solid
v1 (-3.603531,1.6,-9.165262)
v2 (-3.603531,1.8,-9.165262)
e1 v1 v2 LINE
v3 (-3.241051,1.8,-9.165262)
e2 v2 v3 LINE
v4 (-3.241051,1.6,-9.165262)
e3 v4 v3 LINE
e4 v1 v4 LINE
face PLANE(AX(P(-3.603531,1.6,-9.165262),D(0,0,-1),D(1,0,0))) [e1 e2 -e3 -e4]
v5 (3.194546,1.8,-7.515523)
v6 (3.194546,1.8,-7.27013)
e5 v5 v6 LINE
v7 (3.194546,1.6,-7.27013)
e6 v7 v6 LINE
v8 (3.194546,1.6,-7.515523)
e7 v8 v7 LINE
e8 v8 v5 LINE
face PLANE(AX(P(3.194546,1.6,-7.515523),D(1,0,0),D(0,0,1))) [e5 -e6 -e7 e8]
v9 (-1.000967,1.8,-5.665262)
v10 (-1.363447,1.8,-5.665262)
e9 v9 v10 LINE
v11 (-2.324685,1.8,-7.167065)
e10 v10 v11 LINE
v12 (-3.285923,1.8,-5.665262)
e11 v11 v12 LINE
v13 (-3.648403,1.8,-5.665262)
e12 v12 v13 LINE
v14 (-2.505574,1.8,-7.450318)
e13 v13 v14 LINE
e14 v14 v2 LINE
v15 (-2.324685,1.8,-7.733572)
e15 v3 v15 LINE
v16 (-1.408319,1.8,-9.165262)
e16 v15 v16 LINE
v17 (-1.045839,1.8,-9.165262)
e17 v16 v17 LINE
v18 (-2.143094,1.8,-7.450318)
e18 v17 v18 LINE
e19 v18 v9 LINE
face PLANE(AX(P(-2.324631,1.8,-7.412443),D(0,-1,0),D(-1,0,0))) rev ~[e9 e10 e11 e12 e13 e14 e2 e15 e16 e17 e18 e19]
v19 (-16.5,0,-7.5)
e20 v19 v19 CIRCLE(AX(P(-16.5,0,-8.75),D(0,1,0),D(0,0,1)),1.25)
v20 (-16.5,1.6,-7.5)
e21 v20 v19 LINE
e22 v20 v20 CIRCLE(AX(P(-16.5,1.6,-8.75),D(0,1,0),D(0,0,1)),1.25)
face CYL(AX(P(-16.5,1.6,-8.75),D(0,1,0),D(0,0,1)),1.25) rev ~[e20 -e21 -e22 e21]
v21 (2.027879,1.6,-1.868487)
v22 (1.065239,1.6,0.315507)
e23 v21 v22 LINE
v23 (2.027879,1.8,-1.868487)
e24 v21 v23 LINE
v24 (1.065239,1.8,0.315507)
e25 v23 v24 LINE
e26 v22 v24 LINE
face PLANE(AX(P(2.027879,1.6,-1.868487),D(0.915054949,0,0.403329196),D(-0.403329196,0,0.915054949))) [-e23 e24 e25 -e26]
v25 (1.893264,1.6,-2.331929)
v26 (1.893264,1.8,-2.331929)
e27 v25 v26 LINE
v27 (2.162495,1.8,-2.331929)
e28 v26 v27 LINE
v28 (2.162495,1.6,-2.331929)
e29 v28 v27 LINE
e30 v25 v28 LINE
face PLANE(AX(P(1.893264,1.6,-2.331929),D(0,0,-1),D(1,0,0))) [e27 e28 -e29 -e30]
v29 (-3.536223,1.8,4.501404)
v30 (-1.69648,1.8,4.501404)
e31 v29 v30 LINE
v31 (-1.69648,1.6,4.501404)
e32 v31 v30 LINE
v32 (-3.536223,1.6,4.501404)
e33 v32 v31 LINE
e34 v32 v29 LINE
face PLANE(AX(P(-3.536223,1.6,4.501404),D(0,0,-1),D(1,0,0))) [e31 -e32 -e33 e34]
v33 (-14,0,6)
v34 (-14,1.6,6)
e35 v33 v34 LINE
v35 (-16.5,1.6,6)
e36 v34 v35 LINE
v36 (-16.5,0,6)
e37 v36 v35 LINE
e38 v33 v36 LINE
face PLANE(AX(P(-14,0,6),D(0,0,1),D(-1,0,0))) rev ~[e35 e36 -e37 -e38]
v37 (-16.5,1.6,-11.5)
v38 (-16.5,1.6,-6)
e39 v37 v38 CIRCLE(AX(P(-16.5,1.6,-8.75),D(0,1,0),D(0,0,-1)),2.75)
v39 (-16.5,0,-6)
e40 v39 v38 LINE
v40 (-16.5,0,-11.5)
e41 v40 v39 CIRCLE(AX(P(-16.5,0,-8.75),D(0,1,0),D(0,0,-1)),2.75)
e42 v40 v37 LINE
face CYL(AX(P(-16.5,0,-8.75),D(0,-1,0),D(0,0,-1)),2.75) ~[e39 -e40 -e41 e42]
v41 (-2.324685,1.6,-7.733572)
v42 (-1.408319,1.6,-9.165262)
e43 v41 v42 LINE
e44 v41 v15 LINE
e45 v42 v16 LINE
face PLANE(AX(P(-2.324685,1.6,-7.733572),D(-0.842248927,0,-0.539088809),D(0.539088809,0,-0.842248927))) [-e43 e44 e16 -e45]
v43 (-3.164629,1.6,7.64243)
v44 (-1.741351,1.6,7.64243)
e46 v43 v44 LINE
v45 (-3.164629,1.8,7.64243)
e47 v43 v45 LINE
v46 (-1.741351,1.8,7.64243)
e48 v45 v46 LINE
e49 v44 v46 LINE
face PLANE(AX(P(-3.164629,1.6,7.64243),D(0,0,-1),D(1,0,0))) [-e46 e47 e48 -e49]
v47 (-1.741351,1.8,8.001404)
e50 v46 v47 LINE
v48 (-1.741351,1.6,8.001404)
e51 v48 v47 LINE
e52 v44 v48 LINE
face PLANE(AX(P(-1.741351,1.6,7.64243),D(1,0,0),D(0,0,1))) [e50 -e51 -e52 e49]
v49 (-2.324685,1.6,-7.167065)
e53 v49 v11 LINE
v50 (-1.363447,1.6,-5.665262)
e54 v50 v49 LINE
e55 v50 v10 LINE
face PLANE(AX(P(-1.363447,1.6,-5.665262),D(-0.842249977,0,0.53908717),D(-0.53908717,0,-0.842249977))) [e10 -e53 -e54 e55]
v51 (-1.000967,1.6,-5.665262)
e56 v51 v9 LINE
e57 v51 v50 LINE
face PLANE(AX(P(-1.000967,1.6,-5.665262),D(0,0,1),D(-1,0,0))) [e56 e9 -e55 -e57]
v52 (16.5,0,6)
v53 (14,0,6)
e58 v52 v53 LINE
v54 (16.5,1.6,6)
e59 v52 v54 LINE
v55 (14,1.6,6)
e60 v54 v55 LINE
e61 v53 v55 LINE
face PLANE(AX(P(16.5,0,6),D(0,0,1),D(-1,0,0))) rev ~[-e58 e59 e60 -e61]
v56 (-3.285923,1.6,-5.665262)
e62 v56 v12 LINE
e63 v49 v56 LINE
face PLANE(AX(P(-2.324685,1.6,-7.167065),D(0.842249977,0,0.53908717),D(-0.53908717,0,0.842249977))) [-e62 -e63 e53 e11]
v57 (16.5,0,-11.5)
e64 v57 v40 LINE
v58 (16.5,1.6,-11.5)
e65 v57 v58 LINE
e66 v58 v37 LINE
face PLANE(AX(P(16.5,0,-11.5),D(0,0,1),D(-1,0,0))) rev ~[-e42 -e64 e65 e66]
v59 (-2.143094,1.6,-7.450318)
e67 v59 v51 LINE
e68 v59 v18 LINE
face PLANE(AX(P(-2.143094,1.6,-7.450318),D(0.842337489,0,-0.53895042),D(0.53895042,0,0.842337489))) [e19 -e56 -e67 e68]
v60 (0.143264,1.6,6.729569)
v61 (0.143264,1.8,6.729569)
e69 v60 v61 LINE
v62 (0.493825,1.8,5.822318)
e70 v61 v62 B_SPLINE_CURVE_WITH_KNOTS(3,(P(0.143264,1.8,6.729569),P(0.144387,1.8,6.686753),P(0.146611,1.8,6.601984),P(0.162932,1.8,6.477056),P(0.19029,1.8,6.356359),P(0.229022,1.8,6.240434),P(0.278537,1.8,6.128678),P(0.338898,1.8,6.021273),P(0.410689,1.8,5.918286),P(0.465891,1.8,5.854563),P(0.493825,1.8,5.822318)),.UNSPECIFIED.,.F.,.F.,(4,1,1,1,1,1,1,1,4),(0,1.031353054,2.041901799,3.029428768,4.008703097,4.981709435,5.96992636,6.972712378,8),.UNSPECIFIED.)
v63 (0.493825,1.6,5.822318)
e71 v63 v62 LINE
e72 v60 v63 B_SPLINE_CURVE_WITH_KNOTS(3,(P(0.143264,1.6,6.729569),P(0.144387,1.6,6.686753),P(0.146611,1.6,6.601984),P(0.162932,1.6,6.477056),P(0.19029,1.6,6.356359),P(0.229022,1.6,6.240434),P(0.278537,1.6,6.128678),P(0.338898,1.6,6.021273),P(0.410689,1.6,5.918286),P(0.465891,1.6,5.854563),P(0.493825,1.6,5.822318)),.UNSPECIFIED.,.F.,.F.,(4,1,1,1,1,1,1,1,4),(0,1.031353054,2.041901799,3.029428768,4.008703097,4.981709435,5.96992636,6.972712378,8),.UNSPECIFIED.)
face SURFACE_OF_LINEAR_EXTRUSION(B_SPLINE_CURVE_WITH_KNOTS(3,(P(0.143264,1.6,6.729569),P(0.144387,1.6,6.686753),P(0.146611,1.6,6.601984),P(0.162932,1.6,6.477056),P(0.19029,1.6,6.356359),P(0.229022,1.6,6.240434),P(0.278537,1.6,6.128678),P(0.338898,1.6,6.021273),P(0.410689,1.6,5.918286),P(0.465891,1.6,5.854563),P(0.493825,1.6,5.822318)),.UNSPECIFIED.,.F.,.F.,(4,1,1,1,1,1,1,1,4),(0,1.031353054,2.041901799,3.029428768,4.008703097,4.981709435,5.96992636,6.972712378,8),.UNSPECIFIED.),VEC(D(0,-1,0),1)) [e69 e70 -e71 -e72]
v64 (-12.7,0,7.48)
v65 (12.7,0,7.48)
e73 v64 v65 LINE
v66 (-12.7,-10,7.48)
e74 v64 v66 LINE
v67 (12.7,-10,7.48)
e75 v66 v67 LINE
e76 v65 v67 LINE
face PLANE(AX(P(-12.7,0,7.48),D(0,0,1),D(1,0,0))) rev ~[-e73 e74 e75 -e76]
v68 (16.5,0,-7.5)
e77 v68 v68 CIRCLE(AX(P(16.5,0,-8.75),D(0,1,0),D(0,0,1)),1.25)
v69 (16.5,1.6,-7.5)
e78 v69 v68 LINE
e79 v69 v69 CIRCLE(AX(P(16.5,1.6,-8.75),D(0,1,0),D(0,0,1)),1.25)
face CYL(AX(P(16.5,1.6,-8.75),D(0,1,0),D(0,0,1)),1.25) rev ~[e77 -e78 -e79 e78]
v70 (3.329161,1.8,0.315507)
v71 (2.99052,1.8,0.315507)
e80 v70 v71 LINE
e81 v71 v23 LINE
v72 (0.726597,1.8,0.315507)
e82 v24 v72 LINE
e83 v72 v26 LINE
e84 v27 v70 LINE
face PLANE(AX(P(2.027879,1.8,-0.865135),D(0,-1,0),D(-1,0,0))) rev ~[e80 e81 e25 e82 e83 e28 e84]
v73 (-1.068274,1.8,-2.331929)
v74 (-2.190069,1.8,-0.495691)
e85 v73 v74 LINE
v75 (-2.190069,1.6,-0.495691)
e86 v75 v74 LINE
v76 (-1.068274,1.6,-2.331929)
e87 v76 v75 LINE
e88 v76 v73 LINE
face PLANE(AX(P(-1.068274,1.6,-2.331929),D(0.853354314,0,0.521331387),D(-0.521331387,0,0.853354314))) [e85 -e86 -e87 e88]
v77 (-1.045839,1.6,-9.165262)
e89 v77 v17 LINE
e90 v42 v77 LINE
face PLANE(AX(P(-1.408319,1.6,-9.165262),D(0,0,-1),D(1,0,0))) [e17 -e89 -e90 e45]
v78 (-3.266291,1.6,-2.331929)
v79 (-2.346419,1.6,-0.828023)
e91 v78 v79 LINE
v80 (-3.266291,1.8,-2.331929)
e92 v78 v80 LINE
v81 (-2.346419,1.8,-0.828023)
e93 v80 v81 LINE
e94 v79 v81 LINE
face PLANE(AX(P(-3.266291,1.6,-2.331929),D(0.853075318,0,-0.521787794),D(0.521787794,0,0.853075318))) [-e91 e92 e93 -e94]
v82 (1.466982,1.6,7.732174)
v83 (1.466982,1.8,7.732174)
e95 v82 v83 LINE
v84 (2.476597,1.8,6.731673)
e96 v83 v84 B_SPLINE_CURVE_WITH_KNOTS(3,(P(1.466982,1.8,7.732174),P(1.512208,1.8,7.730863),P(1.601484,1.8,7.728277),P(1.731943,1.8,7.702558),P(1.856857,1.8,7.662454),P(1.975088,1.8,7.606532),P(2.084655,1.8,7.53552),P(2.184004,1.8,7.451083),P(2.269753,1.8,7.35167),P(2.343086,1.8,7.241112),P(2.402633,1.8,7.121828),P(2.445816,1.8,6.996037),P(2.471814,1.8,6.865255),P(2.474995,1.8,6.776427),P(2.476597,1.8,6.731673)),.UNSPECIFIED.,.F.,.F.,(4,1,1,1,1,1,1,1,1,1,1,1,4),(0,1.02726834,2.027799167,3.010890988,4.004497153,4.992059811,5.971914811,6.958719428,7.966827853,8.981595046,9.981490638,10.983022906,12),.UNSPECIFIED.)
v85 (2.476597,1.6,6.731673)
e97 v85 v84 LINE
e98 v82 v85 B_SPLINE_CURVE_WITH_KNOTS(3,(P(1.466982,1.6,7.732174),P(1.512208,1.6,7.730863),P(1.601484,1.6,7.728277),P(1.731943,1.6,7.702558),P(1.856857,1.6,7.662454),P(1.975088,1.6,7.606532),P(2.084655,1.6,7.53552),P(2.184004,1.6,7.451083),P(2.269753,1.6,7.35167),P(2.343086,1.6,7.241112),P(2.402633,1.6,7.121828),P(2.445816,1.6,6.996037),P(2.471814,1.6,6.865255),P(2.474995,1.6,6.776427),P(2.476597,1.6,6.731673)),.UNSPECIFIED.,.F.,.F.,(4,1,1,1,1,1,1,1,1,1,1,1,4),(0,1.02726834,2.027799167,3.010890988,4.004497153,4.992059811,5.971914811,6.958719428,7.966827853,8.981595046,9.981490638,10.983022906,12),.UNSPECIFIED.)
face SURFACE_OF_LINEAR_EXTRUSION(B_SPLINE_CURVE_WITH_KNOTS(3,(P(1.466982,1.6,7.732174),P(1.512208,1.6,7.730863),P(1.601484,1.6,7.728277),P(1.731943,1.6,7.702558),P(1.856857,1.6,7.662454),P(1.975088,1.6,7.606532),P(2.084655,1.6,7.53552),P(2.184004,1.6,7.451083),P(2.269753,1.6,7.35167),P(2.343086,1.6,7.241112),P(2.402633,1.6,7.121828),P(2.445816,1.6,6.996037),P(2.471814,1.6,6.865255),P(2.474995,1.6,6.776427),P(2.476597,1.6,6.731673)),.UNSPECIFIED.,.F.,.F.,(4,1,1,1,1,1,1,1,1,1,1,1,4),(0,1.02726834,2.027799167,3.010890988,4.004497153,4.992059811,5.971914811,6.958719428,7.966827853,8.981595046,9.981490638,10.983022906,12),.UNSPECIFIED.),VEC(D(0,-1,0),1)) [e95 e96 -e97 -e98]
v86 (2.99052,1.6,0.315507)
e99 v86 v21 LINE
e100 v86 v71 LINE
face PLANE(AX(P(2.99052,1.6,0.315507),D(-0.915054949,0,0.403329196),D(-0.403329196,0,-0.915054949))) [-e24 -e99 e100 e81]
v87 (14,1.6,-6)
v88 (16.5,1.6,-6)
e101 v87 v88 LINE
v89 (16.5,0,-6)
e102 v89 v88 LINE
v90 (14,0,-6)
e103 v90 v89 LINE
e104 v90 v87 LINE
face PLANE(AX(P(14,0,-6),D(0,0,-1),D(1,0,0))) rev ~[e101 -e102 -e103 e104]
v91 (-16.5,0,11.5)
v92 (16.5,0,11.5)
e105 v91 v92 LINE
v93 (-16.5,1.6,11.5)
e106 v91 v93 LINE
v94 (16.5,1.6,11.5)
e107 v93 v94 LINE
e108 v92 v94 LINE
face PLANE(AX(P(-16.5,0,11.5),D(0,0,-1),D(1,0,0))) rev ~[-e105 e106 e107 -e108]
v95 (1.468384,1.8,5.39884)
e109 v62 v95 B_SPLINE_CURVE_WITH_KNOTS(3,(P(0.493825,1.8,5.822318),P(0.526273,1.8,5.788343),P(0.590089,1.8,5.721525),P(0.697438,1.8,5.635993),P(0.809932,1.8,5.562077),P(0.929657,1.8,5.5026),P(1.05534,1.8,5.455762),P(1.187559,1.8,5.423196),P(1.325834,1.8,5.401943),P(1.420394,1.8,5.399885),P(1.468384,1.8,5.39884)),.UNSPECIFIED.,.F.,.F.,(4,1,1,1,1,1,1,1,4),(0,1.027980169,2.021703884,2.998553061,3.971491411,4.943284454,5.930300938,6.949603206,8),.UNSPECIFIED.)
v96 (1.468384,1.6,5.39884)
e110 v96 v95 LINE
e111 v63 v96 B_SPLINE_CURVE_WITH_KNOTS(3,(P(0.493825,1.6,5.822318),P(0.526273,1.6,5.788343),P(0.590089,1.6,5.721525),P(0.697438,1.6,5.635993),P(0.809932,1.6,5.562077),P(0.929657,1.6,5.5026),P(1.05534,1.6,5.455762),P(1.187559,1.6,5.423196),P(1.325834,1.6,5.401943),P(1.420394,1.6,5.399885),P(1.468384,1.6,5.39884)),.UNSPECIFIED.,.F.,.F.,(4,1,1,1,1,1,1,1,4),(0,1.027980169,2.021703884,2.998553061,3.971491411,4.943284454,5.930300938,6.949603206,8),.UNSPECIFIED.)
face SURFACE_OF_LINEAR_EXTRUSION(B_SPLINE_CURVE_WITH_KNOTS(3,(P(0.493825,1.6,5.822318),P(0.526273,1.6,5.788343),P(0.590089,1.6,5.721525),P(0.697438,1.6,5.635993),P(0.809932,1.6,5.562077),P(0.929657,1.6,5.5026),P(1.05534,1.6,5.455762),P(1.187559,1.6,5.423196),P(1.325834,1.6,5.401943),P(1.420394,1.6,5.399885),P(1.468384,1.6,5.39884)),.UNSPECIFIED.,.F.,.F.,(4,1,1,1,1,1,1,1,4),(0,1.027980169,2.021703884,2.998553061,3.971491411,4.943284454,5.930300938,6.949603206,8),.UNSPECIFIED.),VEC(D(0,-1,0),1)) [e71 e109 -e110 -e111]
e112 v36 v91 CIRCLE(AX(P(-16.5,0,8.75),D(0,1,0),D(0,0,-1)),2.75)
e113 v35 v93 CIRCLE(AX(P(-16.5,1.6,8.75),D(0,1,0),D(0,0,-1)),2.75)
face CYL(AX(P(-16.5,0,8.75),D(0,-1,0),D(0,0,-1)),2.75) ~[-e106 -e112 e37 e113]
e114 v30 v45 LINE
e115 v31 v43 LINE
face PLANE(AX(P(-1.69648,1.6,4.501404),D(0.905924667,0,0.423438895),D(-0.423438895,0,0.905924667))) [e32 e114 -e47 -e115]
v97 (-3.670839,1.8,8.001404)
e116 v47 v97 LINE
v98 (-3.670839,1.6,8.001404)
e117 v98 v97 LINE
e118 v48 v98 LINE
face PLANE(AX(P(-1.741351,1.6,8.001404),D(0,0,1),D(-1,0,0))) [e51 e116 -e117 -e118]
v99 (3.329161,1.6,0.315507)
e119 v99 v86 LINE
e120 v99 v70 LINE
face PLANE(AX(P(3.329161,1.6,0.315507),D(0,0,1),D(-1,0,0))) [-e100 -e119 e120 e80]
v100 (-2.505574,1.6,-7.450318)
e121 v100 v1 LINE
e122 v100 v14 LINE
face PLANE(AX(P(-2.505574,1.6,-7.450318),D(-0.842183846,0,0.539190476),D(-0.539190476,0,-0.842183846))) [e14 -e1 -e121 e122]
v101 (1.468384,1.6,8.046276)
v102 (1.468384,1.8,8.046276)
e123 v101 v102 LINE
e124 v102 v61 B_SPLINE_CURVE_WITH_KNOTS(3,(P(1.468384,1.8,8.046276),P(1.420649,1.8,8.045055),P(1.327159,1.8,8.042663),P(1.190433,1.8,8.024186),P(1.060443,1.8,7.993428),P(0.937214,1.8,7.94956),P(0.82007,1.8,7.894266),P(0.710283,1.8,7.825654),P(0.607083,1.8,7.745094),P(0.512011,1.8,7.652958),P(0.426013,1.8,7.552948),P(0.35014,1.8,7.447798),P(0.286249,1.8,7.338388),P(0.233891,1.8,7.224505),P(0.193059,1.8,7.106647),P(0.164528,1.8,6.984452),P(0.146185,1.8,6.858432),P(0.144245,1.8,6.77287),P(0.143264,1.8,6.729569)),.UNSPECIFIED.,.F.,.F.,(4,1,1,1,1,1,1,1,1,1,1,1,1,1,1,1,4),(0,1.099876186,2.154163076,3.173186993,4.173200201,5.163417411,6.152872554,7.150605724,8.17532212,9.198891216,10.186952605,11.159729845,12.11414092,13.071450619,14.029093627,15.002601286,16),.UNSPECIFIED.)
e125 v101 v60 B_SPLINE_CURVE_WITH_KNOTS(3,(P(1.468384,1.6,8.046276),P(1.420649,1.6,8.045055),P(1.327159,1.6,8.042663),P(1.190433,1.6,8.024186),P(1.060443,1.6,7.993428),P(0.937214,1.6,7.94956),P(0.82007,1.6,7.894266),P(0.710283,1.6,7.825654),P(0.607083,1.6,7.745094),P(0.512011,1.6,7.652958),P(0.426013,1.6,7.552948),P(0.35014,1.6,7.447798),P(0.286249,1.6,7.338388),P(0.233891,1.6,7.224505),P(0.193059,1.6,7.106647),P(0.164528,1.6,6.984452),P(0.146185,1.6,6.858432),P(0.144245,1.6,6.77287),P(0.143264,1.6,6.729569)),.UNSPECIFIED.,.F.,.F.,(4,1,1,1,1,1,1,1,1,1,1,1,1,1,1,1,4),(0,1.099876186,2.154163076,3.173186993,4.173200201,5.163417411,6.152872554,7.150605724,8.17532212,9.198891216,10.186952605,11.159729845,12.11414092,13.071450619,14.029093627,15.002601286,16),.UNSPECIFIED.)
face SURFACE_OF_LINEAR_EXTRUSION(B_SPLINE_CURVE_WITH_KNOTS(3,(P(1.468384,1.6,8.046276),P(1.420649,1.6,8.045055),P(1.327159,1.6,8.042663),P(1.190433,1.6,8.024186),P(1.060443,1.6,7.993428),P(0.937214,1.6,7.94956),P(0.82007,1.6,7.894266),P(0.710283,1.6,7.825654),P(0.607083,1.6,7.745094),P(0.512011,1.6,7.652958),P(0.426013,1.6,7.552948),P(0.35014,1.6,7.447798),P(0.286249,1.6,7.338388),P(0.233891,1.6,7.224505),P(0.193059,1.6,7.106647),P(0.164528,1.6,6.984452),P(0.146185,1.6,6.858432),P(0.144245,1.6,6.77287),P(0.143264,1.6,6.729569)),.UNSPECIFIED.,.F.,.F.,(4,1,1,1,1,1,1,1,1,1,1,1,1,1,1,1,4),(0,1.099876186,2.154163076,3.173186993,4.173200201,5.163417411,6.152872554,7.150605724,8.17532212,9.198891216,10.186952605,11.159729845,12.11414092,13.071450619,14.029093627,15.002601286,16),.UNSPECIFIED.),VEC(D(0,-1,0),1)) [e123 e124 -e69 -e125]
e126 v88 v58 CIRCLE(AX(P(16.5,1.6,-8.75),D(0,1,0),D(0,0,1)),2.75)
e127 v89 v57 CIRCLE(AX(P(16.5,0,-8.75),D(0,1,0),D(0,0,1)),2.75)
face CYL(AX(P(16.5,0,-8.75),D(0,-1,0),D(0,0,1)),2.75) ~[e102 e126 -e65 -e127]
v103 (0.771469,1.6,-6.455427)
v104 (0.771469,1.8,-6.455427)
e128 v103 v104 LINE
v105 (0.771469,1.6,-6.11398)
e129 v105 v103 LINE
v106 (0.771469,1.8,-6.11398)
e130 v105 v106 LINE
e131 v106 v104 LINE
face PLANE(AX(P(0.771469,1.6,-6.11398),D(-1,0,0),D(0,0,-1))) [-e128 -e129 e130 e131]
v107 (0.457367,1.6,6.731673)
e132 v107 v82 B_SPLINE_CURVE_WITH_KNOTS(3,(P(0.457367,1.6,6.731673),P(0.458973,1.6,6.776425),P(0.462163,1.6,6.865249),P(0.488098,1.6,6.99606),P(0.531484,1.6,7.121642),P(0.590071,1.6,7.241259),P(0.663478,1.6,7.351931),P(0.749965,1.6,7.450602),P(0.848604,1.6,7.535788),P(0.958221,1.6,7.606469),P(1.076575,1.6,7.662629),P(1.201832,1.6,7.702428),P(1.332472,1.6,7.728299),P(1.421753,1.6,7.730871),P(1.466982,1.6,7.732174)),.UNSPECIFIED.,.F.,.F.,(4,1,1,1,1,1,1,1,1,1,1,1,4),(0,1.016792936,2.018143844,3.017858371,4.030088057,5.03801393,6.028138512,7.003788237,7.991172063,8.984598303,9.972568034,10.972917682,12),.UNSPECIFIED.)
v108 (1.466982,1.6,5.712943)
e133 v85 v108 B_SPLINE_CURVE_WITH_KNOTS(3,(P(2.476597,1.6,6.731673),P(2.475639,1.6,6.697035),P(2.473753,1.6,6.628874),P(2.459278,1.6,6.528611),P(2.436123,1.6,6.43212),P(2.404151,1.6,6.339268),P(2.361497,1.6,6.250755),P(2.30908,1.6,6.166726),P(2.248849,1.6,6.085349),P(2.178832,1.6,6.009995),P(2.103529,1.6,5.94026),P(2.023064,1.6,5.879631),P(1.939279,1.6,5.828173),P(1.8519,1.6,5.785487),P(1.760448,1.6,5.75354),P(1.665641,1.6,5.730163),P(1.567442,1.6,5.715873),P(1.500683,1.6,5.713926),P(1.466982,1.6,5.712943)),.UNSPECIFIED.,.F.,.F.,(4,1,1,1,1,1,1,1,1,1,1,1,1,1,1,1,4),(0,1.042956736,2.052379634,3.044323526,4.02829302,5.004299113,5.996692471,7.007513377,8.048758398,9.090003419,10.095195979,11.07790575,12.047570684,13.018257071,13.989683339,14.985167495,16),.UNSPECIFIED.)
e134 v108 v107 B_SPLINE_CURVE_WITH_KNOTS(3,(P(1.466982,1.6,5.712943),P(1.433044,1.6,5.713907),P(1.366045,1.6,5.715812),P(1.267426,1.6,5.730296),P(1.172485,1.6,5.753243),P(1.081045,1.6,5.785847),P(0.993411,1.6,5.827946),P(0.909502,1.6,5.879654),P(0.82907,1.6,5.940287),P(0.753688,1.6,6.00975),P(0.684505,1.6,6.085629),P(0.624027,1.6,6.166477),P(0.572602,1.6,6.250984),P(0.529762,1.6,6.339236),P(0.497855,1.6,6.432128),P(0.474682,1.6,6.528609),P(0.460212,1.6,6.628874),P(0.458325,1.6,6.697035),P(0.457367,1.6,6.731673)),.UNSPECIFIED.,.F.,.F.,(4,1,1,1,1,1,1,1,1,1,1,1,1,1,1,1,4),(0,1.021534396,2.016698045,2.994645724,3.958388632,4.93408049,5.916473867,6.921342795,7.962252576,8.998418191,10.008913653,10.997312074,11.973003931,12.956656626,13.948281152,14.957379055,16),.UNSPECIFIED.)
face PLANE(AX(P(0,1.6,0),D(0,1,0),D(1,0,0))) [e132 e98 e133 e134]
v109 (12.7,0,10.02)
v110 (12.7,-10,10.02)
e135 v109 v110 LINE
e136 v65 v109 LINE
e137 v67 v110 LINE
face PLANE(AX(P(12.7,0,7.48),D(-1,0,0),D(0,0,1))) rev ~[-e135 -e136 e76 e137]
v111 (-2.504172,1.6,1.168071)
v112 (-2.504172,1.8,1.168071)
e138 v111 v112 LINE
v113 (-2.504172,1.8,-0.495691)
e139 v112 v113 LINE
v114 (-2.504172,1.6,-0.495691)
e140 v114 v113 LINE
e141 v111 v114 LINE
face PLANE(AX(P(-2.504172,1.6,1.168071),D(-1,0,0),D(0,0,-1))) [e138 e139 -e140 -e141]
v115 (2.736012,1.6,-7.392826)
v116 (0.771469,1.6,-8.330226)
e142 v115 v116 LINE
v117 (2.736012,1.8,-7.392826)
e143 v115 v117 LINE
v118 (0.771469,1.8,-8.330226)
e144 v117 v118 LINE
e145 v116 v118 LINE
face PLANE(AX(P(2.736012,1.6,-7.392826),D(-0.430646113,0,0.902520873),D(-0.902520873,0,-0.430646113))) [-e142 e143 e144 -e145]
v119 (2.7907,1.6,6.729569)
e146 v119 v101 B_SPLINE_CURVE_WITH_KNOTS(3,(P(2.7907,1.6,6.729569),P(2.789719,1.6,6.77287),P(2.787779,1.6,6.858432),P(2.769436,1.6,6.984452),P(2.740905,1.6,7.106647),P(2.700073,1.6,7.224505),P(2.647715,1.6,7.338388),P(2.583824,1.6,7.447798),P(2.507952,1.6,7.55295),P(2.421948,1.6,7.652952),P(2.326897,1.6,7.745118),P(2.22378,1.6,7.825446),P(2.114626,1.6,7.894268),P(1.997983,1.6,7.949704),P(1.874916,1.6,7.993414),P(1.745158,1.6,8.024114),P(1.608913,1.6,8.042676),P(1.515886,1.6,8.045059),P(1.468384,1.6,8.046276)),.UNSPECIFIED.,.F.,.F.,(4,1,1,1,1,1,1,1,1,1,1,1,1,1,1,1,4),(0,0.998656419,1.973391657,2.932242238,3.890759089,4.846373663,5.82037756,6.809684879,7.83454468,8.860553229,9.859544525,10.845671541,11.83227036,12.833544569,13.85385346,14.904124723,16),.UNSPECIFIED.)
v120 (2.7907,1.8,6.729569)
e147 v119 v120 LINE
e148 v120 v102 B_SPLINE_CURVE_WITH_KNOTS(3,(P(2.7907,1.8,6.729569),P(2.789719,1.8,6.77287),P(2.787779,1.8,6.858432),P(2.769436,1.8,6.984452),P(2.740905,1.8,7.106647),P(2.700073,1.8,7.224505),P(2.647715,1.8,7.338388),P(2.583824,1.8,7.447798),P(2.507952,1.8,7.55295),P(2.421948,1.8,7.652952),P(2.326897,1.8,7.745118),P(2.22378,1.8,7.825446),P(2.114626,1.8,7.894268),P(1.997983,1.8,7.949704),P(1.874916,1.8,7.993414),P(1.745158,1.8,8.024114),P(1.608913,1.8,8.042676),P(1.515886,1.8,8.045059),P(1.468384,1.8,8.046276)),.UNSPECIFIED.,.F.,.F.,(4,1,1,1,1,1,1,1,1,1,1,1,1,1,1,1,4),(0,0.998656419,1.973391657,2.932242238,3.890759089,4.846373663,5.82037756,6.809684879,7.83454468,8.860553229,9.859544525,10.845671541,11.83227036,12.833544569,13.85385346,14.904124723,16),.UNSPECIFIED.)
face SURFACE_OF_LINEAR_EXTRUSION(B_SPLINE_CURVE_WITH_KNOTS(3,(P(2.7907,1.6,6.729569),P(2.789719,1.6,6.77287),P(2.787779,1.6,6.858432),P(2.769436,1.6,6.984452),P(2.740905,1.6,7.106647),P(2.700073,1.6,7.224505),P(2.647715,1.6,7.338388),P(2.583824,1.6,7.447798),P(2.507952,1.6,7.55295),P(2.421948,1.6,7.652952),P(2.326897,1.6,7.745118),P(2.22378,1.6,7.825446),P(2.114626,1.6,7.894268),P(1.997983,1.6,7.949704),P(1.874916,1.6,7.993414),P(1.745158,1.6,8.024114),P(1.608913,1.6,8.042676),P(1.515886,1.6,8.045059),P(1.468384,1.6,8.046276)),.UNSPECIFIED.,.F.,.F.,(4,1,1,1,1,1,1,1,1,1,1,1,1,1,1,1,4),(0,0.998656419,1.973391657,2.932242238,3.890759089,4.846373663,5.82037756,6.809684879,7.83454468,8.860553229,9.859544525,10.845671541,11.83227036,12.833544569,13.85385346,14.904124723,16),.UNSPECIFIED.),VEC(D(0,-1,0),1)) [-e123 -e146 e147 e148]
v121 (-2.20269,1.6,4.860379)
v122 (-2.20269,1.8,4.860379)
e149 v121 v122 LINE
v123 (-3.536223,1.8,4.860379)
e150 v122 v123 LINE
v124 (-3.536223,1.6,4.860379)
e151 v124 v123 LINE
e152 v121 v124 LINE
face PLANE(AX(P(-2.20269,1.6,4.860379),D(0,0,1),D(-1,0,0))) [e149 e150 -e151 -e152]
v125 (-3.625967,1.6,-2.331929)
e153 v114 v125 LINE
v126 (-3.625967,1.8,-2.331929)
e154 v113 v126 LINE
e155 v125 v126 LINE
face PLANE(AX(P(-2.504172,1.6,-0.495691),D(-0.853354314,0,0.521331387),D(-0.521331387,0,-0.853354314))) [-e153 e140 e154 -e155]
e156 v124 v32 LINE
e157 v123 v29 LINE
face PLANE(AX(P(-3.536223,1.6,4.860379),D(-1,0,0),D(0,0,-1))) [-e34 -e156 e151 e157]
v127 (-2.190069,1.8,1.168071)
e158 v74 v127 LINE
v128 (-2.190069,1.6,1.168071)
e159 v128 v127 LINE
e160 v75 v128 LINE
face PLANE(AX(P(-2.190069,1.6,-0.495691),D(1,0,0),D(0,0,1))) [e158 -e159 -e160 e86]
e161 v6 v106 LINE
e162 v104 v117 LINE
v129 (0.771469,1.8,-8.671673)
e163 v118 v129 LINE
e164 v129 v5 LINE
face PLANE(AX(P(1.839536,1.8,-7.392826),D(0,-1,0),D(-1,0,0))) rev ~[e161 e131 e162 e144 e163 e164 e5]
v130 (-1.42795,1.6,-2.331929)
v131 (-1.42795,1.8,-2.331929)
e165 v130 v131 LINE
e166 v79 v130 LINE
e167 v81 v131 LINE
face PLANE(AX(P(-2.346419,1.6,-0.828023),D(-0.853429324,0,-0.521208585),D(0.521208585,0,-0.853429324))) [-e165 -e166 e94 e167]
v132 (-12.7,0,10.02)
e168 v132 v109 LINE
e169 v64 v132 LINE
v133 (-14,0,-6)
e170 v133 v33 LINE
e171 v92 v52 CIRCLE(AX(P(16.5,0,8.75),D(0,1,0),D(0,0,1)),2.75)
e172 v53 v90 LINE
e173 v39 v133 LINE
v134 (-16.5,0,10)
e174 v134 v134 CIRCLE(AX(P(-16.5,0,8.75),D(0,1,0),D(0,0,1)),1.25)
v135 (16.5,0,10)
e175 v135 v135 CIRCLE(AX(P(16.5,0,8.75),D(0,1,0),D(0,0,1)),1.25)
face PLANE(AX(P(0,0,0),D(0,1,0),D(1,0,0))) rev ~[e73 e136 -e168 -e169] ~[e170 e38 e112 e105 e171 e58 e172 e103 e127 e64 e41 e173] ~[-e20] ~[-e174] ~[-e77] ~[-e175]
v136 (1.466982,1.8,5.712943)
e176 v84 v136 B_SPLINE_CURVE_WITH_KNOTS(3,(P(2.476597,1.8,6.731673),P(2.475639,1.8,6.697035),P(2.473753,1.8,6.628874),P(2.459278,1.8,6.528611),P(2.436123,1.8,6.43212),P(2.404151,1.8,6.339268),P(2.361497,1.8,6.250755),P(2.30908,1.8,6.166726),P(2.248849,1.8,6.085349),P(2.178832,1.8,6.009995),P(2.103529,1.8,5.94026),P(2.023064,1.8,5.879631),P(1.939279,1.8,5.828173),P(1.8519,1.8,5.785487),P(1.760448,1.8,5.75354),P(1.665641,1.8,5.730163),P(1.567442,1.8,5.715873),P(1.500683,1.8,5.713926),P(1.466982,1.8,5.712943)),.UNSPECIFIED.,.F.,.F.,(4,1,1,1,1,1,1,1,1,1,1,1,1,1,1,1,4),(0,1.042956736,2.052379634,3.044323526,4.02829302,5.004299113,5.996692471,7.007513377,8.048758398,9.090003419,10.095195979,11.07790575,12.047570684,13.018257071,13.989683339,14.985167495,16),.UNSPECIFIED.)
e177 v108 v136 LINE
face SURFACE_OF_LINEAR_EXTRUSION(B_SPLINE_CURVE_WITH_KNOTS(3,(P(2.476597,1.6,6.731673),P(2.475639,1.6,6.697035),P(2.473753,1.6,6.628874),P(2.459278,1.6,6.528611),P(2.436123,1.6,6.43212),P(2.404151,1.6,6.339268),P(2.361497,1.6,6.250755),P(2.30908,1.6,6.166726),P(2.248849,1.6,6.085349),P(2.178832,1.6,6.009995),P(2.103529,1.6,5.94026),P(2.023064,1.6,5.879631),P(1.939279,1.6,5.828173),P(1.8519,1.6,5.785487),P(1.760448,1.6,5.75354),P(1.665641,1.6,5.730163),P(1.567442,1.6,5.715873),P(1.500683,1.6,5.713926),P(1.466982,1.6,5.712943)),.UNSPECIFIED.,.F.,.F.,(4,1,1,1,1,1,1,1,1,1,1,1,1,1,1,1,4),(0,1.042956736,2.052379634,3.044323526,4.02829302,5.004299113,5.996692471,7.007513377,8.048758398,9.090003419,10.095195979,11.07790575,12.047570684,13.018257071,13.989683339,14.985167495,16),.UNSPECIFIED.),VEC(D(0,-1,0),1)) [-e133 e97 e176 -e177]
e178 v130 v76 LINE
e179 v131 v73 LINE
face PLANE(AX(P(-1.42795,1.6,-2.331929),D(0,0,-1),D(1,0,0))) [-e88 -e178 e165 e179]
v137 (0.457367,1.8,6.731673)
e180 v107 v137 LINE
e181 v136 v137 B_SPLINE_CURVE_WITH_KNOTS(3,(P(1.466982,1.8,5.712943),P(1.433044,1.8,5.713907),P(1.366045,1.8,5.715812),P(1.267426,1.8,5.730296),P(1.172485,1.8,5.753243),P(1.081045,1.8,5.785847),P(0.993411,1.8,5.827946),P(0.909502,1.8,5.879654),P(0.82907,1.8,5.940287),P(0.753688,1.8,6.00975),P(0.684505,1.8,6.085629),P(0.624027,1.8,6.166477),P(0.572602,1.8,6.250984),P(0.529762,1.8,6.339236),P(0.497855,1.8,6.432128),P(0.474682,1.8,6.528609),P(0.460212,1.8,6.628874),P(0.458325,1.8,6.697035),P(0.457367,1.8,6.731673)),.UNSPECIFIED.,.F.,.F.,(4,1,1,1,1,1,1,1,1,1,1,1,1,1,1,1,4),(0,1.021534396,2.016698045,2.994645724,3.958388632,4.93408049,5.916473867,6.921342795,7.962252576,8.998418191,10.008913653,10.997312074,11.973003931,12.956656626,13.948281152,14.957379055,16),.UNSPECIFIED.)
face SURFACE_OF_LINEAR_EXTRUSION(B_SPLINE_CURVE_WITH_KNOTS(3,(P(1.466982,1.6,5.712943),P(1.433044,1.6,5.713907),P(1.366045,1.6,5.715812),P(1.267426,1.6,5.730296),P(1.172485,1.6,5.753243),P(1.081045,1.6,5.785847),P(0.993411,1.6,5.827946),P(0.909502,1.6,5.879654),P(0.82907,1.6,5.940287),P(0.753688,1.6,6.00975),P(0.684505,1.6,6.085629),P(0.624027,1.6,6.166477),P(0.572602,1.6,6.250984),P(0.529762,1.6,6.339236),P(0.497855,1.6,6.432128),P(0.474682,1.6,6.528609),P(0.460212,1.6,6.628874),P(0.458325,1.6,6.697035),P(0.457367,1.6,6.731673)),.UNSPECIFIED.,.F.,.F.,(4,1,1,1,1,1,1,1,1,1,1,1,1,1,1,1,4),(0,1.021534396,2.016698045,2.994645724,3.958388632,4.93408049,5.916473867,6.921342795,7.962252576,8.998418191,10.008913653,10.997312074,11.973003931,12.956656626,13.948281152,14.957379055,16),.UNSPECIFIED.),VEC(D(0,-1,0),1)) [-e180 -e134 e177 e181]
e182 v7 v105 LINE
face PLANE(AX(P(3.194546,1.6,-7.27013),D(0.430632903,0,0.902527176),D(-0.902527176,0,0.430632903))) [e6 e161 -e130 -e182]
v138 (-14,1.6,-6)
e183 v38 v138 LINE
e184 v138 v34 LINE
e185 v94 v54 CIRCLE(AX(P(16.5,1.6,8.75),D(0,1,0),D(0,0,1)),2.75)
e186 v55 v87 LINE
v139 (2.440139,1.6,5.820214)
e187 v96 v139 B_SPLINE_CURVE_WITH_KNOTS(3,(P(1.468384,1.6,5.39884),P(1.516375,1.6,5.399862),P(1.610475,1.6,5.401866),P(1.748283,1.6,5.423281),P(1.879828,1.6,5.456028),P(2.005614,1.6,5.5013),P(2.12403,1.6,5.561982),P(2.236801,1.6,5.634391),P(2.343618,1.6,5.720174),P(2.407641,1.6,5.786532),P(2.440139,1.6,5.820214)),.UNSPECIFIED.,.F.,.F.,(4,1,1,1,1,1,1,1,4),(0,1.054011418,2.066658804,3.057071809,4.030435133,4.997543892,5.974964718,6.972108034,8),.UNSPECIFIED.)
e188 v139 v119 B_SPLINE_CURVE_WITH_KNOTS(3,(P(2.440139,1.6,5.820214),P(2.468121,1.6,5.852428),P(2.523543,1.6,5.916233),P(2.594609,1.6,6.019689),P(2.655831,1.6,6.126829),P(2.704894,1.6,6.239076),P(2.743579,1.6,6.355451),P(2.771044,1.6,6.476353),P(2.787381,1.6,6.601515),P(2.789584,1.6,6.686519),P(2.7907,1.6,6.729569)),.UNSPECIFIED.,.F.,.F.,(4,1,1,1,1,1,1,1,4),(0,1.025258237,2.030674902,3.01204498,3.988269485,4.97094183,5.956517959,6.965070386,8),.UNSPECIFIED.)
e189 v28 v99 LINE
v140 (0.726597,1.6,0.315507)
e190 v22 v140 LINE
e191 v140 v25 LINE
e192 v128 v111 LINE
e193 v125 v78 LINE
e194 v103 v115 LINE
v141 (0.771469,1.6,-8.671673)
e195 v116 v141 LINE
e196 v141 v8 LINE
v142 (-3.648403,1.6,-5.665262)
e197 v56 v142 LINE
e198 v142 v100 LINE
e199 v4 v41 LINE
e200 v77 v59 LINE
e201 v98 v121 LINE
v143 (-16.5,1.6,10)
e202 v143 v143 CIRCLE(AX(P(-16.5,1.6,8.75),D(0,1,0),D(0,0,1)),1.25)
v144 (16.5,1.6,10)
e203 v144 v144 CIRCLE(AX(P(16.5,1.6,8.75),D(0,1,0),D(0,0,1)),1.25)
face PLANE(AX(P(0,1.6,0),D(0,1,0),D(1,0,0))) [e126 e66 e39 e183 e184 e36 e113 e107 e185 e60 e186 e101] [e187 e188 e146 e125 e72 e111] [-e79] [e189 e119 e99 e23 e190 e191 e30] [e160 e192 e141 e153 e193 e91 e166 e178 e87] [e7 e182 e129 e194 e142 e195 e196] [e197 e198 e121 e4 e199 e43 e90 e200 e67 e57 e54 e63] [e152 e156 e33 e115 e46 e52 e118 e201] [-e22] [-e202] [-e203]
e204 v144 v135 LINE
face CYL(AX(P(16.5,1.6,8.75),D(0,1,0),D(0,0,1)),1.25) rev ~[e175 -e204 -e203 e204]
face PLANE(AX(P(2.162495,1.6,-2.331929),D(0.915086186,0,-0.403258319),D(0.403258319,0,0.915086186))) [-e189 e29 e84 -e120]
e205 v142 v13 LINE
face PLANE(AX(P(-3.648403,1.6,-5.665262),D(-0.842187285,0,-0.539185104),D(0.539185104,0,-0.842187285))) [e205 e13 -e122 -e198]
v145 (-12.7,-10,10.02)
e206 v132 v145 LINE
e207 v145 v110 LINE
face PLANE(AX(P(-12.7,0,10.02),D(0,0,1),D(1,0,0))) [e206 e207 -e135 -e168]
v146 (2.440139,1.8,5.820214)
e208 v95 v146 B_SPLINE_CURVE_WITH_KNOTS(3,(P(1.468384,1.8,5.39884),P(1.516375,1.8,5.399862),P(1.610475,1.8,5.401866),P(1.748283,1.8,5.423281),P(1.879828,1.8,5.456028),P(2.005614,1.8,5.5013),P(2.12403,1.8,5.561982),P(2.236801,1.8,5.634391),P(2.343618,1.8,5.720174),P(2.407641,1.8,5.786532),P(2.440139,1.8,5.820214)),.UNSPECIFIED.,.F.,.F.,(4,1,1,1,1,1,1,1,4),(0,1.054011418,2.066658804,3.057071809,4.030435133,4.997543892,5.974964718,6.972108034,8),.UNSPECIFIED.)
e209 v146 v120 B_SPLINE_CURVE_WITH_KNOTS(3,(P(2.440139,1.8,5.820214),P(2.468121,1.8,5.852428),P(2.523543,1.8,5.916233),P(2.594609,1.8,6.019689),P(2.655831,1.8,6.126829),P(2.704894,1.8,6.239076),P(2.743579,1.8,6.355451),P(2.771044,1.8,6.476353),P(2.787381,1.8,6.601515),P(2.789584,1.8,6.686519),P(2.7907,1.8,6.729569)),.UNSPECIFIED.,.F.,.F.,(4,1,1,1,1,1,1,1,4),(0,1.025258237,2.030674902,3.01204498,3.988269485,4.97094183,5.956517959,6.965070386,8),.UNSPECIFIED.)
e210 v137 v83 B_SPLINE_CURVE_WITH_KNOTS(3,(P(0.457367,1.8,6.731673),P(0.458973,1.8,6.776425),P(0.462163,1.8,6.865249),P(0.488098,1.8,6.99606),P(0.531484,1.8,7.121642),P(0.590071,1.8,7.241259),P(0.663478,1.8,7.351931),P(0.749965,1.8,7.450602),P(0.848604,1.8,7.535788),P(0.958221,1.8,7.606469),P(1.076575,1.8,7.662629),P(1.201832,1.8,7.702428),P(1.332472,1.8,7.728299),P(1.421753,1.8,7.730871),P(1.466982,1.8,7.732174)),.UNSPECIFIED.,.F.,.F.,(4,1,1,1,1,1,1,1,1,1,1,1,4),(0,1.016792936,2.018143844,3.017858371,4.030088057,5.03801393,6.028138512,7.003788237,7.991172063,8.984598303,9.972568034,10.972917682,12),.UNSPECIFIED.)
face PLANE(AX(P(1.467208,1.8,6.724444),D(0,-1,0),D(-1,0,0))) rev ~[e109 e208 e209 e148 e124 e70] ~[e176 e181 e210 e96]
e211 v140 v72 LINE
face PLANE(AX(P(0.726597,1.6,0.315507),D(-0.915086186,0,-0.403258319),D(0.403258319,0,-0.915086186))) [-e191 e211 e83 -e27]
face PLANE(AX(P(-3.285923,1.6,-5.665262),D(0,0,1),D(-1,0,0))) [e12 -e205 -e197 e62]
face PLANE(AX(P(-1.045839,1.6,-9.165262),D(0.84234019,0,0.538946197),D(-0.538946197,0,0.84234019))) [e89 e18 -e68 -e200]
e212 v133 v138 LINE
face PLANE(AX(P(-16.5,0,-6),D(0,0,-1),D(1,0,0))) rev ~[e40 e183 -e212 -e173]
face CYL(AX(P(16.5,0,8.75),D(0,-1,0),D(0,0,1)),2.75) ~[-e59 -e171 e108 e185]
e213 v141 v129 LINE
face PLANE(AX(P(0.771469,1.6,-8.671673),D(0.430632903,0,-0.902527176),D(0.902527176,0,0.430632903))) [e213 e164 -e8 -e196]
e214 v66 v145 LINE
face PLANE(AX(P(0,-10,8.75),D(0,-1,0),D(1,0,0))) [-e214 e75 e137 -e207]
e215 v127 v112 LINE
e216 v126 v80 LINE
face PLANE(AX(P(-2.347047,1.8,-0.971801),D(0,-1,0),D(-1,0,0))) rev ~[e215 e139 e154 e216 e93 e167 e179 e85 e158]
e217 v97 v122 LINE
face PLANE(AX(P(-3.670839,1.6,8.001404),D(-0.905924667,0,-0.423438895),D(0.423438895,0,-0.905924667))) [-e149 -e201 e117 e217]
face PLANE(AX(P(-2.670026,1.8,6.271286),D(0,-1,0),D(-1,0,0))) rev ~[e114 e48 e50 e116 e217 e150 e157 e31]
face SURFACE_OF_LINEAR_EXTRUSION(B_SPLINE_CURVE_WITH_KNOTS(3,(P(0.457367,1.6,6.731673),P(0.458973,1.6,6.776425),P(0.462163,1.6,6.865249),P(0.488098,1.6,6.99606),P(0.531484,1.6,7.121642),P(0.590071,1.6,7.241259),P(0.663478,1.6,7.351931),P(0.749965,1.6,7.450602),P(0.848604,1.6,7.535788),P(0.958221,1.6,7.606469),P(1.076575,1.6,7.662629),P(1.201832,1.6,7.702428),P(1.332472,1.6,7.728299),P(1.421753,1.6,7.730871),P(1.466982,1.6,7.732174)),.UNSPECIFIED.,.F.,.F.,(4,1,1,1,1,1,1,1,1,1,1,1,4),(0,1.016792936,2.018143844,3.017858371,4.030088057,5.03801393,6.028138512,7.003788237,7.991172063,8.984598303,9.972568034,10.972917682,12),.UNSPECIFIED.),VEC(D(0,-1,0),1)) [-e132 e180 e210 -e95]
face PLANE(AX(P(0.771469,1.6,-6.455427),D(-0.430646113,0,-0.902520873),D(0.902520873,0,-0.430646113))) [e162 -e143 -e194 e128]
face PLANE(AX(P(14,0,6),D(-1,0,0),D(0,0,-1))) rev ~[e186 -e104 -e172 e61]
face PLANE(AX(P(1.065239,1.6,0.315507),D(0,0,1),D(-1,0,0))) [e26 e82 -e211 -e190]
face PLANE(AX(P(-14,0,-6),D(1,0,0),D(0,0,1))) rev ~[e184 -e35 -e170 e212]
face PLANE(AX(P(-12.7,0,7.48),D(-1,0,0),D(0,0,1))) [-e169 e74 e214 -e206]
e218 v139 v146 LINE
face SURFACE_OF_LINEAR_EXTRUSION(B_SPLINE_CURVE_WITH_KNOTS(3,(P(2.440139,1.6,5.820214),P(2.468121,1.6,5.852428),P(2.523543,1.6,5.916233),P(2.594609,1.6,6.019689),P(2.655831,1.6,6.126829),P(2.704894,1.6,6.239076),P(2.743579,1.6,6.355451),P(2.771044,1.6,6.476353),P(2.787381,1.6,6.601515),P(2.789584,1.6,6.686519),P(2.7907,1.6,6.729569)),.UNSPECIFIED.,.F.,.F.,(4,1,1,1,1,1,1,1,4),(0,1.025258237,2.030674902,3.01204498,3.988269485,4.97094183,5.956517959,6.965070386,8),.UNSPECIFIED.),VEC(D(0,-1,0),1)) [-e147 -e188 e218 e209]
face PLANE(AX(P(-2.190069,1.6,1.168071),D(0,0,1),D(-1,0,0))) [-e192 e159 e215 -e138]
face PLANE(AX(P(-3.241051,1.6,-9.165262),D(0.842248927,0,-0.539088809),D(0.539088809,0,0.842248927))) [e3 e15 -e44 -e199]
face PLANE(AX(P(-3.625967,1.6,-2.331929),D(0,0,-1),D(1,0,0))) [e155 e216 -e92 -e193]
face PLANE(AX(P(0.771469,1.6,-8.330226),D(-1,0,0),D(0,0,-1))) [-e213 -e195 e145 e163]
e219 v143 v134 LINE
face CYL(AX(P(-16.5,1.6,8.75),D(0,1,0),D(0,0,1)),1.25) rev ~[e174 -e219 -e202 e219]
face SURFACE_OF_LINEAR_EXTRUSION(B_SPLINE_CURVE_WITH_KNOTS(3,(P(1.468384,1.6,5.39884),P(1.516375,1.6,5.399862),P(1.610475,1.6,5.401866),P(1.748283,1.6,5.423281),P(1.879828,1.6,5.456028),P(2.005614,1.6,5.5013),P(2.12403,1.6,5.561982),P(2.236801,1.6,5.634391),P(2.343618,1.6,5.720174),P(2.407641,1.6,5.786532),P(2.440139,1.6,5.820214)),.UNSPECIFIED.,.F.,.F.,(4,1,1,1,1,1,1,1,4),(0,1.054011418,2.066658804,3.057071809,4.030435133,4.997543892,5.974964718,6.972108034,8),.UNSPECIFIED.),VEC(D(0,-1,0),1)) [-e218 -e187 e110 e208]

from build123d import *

# Parameters (mm, degrees)
BOSS_EXTRUDE1_DEPTH = 1.6
SKETCH2_R           = 1.25
CUT_EXTRUDE1_DEPTH  = 23.480491543
SKETCH3_W           = 25.4
SKETCH3_H           = 2.54
BOSS_EXTRUDE2_DEPTH = 10
BOSS_EXTRUDE3_DEPTH = 0.2


with BuildPart() as part:
    # Sketch1 → Boss-Extrude1 (new body)
    with BuildSketch(Plane(origin=(0, 0, 0), x_dir=(1, 0, 0), z_dir=(0, 1, 0))):
        with BuildLine():
            Line((-14, 11.5), (-16.5, 11.5))
            ThreePointArc((-16.5, 11.5), (-19.25, 8.75), (-16.5, 6))
            Line((-16.5, 6), (-14, 6))
            Line((-14, 6), (-14, -6))
            Line((-14, -6), (-16.5, -6))
            ThreePointArc((-16.5, -6), (-19.25, -8.75), (-16.5, -11.5))
            Line((-16.5, -11.5), (-14, -11.5))
            Line((-14, -11.5), (14, -11.5))
            Line((14, -11.5), (16.5, -11.5))
            ThreePointArc((16.5, -11.5), (19.25, -8.75), (16.5, -6))
            Line((16.5, -6), (14, -6))
            Line((14, -6), (14, 6))
            Line((14, 6), (16.5, 6))
            ThreePointArc((16.5, 6), (19.25, 8.75), (16.5, 11.5))
            Line((16.5, 11.5), (14, 11.5))
            Line((14, 11.5), (-14, 11.5))
        make_face()
    extrude(amount=BOSS_EXTRUDE1_DEPTH)

    # Sketch2 → Cut-Extrude1 (cut, through all)
    with BuildSketch(Plane(origin=(0, 1.6, 0), x_dir=(1, 0, 0), z_dir=(0, 1, 0))):
        with Locations(Location((-16.5, 8.75, 0), (0, 0, 270))):
            Circle(SKETCH2_R)
        with Locations(Location((16.5, 8.75, 0), (0, 0, 270))):
            Circle(SKETCH2_R)
        with Locations(Location((16.5, -8.75, 0), (0, 0, 270))):
            Circle(SKETCH2_R)
        with Locations(Location((-16.5, -8.75, 0), (0, 0, 270))):
            Circle(SKETCH2_R)
    extrude(amount=-CUT_EXTRUDE1_DEPTH, mode=Mode.SUBTRACT)

    # Sketch3 → Boss-Extrude2 (add)
    with BuildSketch(Plane.XZ):
        with Locations((0, 8.75)):
            Rectangle(SKETCH3_W, SKETCH3_H)
    extrude(amount=BOSS_EXTRUDE2_DEPTH)

    # Sketch4 → Boss-Extrude3 (add)
    # profile 1 of 6: a face of its own
    with BuildSketch(Plane(origin=(0, 1.6, 0), x_dir=(1, 0, 0), z_dir=(0, 1, 0))):
        Polygon((-3.603530873, 9.165262271), (-3.241050905, 9.165262271), (-2.324684719, 7.733571566), (-1.408318533, 9.165262271), (-1.045838565, 9.165262271), (-2.143094174, 7.450318361), (-1.00096677, 5.665262271), (-1.363446738, 5.665262271), (-2.324684719, 7.167065156), (-3.2859227, 5.665262271), (-3.648402668, 5.665262271), (-2.505574142, 7.450318361), align=None)
    # profile 2 of 6: a face of its own
    with BuildSketch(Plane(origin=(0, 1.6, 0), x_dir=(1, 0, 0), z_dir=(0, 1, 0))):
        Polygon((0.771469127, 6.455426534), (2.736012396, 7.392826374), (0.771469127, 8.330226214), (0.771469127, 8.671672528), (3.19454605, 7.515522688), (3.19454605, 7.27013006), (0.771469127, 6.11398022), align=None)
    # profile 3 of 6: a face of its own
    with BuildSketch(Plane(origin=(0, 1.6, 0), x_dir=(1, 0, 0), z_dir=(0, 1, 0))):
        Polygon((-3.62596677, 2.331928938), (-3.26629129, 2.331928938), (-2.346419495, 0.828022688), (-1.427949944, 2.331928938), (-1.068274463, 2.331928938), (-2.190069335, 0.495690957), (-2.190069335, -1.168071062), (-2.504171899, -1.168071062), (-2.504171899, 0.495690957), align=None)
    # profile 4 of 6: a face of its own
    with BuildSketch(Plane(origin=(0, 1.6, 0), x_dir=(1, 0, 0), z_dir=(0, 1, 0))):
        Polygon((1.893263999, 2.331928938), (2.162494768, 2.331928938), (3.329161435, -0.315506959), (2.990519608, -0.315506959), (2.027879383, 1.868487432), (1.065239159, -0.315506959), (0.726597332, -0.315506959), align=None)
    # profile 5 of 6: a face of its own
    with BuildSketch(Plane(origin=(0, 1.6, 0), x_dir=(1, 0, 0), z_dir=(0, 1, 0))):
        Polygon((-3.536223181, -4.860378754), (-3.536223181, -4.501404395), (-1.696479591, -4.501404395), (-3.164628629, -7.642430036), (-1.741351386, -7.642430036), (-1.741351386, -8.001404395), (-3.670838565, -8.001404395), (-2.202689527, -4.860378754), align=None)
    # profile 6 of 6: a face of its own
    with BuildSketch(Plane(origin=(0, 1.6, 0), x_dir=(1, 0, 0), z_dir=(0, 1, 0))):
        with BuildLine():
            add(Edge.make_bspline(
                [(1.468384191, -5.398840293), (1.516375464, -5.399862184), (1.610474622, -5.401865863), (1.748282507, -5.423280828), (1.879827643, -5.456028193), (2.005613835, -5.501299755), (2.124030131, -5.561981705), (2.236801375, -5.634390996), (2.343618384, -5.72017359), (2.407641413, -5.786531658), (2.440138999, -5.820214492)],
                knots=[0, 0, 0, 0, 1.054011418, 2.066658804, 3.057071809, 4.030435133, 4.997543892, 5.974964718, 6.972108034, 8, 8, 8, 8], degree=3))
            add(Edge.make_bspline(
                [(2.440138999, -5.820214492), (2.468120953, -5.852428477), (2.523543333, -5.91623302), (2.594609052, -6.019688632), (2.655830612, -6.126828733), (2.704893573, -6.23907606), (2.743578597, -6.355450731), (2.771044293, -6.476352742), (2.787381228, -6.601515089), (2.789584195, -6.686518927), (2.790699896, -6.729569459)],
                knots=[0, 0, 0, 0, 1.025258237, 2.030674902, 3.01204498, 3.988269485, 4.97094183, 5.956517959, 6.965070386, 8, 8, 8, 8], degree=3))
            add(Edge.make_bspline(
                [(2.790699896, -6.729569459), (2.789718559, -6.772869517), (2.787779391, -6.85843245), (2.769435774, -6.984451816), (2.740904688, -7.106646639), (2.70007285, -7.224505333), (2.647714741, -7.33838816), (2.583824053, -7.447797709), (2.507952436, -7.552949843), (2.421948439, -7.652951681), (2.326896563, -7.745117896), (2.223780415, -7.825446165), (2.114626381, -7.89426769), (1.997983028, -7.949704105), (1.874915541, -7.993413806), (1.745158473, -8.024113822), (1.608913403, -8.042675506), (1.515886181, -8.045059079), (1.468384191, -8.04627619)],
                knots=[0, 0, 0, 0, 0.998656419, 1.973391657, 2.932242238, 3.890759089, 4.846373663, 5.82037756, 6.809684879, 7.83454468, 8.860553229, 9.859544525, 10.845671541, 11.83227036, 12.833544569, 13.85385346, 14.904124723, 16, 16, 16, 16], degree=3))
            add(Edge.make_bspline(
                [(1.468384191, -8.04627619), (1.420649472, -8.045054994), (1.327158612, -8.04266322), (1.19043263, -8.024185937), (1.060443011, -7.993427954), (0.937214412, -7.949560461), (0.820069566, -7.894265918), (0.710283069, -7.825654228), (0.607083153, -7.745094073), (0.512011169, -7.652958136), (0.426012563, -7.55294818), (0.350139555, -7.447798141), (0.286249229, -7.338388048), (0.233891025, -7.224505363), (0.193059212, -7.106646631), (0.164528119, -6.984451818), (0.146184505, -6.85843245), (0.144245336, -6.772869517), (0.143263999, -6.729569459)],
                knots=[0, 0, 0, 0, 1.099876186, 2.154163076, 3.173186993, 4.173200201, 5.163417411, 6.152872554, 7.150605724, 8.17532212, 9.198891216, 10.186952605, 11.159729845, 12.11414092, 13.071450619, 14.029093627, 15.002601286, 16, 16, 16, 16], degree=3))
            add(Edge.make_bspline(
                [(0.143263999, -6.729569459), (0.144387309, -6.686752914), (0.146611271, -6.601983511), (0.16293178, -6.477056451), (0.190290336, -6.356359061), (0.229021733, -6.240433585), (0.278536924, -6.128678149), (0.338898211, -6.021273318), (0.410688844, -5.918285518), (0.465890796, -5.854563438), (0.493824896, -5.822317857)],
                knots=[0, 0, 0, 0, 1.031353054, 2.041901799, 3.029428768, 4.008703097, 4.981709435, 5.96992636, 6.972712378, 8, 8, 8, 8], degree=3))
            add(Edge.make_bspline(
                [(0.493824896, -5.822317857), (0.526273487, -5.788342918), (0.590089351, -5.721525221), (0.697438079, -5.635992697), (0.8099319, -5.562076623), (0.929656826, -5.502600408), (1.055339684, -5.45576189), (1.187558927, -5.423196375), (1.325834442, -5.40194302), (1.420394063, -5.399884842), (1.468384191, -5.398840293)],
                knots=[0, 0, 0, 0, 1.027980169, 2.021703884, 2.998553061, 3.971491411, 4.943284454, 5.930300938, 6.949603206, 8, 8, 8, 8], degree=3))
        make_face()
        with BuildLine():
            add(Edge.make_bspline(
                [(1.466981948, -5.712942857), (1.433044336, -5.713907449), (1.366045208, -5.715811731), (1.267425623, -5.730295636), (1.172485469, -5.75324314), (1.081044625, -5.785847196), (0.993411452, -5.827946095), (0.90950205, -5.879654455), (0.82906961, -5.940287412), (0.753687547, -6.009750083), (0.684505235, -6.085629078), (0.624027258, -6.166477437), (0.572602152, -6.250983783), (0.529761993, -6.339235994), (0.497854805, -6.432128408), (0.474681782, -6.528609039), (0.460211542, -6.628874456), (0.458325163, -6.697035474), (0.457366563, -6.731672825)],
                knots=[0, 0, 0, 0, 1.021534396, 2.016698045, 2.994645724, 3.958388632, 4.93408049, 5.916473867, 6.921342795, 7.962252576, 8.998418191, 10.008913653, 10.997312074, 11.973003931, 12.956656626, 13.948281152, 14.957379055, 16, 16, 16, 16], degree=3))
            add(Edge.make_bspline(
                [(0.457366563, -6.731672825), (0.458973387, -6.776424852), (0.462162631, -6.865249258), (0.488097867, -6.99606038), (0.531484147, -7.121642232), (0.590071427, -7.241258618), (0.663477646, -7.351930896), (0.749964712, -7.450602381), (0.848604413, -7.535788192), (0.958220913, -7.606469038), (1.076575231, -7.662628793), (1.201831552, -7.702427769), (1.332472246, -7.728299462), (1.421752977, -7.730870936), (1.466981948, -7.732173626)],
                knots=[0, 0, 0, 0, 1.016792936, 2.018143844, 3.017858371, 4.030088057, 5.03801393, 6.028138512, 7.003788237, 7.991172063, 8.984598303, 9.972568034, 10.972917682, 12, 12, 12, 12], degree=3))
            add(Edge.make_bspline(
                [(1.466981948, -7.732173626), (1.512208316, -7.730863346), (1.601483912, -7.728276889), (1.731943089, -7.702558069), (1.856857061, -7.662454409), (1.975088449, -7.606532199), (2.084655052, -7.535519784), (2.184004173, -7.451083407), (2.269752785, -7.351669556), (2.343086389, -7.241112027), (2.402633132, -7.121827675), (2.445816334, -6.996037202), (2.47181392, -6.86525516), (2.474994749, -6.77642683), (2.476597332, -6.731672825)],
                knots=[0, 0, 0, 0, 1.02726834, 2.027799167, 3.010890988, 4.004497153, 4.992059811, 5.971914811, 6.958719428, 7.966827853, 8.981595046, 9.981490638, 10.983022906, 12, 12, 12, 12], degree=3))
            add(Edge.make_bspline(
                [(2.476597332, -6.731672825), (2.475639062, -6.697035267), (2.473753333, -6.628873841), (2.459278369, -6.528611388), (2.436122829, -6.432119791), (2.404151212, -6.339267788), (2.361497198, -6.250755284), (2.309080405, -6.166725557), (2.248849379, -6.085349011), (2.178832258, -6.00999537), (2.103528881, -5.940260333), (2.023063842, -5.879630944), (1.939278864, -5.828173348), (1.851900281, -5.785487108), (1.760447714, -5.753539767), (1.665640584, -5.730163136), (1.567441774, -5.715872939), (1.500682731, -5.713925798), (1.466981948, -5.712942857)],
                knots=[0, 0, 0, 0, 1.042956736, 2.052379634, 3.044323526, 4.02829302, 5.004299113, 5.996692471, 7.007513377, 8.048758398, 9.090003419, 10.095195979, 11.07790575, 12.047570684, 13.018257071, 13.989683339, 14.985167495, 16, 16, 16, 16], degree=3))
        make_face(mode=Mode.SUBTRACT)
    extrude(amount=BOSS_EXTRUDE3_DEPTH)


solid = part.part
